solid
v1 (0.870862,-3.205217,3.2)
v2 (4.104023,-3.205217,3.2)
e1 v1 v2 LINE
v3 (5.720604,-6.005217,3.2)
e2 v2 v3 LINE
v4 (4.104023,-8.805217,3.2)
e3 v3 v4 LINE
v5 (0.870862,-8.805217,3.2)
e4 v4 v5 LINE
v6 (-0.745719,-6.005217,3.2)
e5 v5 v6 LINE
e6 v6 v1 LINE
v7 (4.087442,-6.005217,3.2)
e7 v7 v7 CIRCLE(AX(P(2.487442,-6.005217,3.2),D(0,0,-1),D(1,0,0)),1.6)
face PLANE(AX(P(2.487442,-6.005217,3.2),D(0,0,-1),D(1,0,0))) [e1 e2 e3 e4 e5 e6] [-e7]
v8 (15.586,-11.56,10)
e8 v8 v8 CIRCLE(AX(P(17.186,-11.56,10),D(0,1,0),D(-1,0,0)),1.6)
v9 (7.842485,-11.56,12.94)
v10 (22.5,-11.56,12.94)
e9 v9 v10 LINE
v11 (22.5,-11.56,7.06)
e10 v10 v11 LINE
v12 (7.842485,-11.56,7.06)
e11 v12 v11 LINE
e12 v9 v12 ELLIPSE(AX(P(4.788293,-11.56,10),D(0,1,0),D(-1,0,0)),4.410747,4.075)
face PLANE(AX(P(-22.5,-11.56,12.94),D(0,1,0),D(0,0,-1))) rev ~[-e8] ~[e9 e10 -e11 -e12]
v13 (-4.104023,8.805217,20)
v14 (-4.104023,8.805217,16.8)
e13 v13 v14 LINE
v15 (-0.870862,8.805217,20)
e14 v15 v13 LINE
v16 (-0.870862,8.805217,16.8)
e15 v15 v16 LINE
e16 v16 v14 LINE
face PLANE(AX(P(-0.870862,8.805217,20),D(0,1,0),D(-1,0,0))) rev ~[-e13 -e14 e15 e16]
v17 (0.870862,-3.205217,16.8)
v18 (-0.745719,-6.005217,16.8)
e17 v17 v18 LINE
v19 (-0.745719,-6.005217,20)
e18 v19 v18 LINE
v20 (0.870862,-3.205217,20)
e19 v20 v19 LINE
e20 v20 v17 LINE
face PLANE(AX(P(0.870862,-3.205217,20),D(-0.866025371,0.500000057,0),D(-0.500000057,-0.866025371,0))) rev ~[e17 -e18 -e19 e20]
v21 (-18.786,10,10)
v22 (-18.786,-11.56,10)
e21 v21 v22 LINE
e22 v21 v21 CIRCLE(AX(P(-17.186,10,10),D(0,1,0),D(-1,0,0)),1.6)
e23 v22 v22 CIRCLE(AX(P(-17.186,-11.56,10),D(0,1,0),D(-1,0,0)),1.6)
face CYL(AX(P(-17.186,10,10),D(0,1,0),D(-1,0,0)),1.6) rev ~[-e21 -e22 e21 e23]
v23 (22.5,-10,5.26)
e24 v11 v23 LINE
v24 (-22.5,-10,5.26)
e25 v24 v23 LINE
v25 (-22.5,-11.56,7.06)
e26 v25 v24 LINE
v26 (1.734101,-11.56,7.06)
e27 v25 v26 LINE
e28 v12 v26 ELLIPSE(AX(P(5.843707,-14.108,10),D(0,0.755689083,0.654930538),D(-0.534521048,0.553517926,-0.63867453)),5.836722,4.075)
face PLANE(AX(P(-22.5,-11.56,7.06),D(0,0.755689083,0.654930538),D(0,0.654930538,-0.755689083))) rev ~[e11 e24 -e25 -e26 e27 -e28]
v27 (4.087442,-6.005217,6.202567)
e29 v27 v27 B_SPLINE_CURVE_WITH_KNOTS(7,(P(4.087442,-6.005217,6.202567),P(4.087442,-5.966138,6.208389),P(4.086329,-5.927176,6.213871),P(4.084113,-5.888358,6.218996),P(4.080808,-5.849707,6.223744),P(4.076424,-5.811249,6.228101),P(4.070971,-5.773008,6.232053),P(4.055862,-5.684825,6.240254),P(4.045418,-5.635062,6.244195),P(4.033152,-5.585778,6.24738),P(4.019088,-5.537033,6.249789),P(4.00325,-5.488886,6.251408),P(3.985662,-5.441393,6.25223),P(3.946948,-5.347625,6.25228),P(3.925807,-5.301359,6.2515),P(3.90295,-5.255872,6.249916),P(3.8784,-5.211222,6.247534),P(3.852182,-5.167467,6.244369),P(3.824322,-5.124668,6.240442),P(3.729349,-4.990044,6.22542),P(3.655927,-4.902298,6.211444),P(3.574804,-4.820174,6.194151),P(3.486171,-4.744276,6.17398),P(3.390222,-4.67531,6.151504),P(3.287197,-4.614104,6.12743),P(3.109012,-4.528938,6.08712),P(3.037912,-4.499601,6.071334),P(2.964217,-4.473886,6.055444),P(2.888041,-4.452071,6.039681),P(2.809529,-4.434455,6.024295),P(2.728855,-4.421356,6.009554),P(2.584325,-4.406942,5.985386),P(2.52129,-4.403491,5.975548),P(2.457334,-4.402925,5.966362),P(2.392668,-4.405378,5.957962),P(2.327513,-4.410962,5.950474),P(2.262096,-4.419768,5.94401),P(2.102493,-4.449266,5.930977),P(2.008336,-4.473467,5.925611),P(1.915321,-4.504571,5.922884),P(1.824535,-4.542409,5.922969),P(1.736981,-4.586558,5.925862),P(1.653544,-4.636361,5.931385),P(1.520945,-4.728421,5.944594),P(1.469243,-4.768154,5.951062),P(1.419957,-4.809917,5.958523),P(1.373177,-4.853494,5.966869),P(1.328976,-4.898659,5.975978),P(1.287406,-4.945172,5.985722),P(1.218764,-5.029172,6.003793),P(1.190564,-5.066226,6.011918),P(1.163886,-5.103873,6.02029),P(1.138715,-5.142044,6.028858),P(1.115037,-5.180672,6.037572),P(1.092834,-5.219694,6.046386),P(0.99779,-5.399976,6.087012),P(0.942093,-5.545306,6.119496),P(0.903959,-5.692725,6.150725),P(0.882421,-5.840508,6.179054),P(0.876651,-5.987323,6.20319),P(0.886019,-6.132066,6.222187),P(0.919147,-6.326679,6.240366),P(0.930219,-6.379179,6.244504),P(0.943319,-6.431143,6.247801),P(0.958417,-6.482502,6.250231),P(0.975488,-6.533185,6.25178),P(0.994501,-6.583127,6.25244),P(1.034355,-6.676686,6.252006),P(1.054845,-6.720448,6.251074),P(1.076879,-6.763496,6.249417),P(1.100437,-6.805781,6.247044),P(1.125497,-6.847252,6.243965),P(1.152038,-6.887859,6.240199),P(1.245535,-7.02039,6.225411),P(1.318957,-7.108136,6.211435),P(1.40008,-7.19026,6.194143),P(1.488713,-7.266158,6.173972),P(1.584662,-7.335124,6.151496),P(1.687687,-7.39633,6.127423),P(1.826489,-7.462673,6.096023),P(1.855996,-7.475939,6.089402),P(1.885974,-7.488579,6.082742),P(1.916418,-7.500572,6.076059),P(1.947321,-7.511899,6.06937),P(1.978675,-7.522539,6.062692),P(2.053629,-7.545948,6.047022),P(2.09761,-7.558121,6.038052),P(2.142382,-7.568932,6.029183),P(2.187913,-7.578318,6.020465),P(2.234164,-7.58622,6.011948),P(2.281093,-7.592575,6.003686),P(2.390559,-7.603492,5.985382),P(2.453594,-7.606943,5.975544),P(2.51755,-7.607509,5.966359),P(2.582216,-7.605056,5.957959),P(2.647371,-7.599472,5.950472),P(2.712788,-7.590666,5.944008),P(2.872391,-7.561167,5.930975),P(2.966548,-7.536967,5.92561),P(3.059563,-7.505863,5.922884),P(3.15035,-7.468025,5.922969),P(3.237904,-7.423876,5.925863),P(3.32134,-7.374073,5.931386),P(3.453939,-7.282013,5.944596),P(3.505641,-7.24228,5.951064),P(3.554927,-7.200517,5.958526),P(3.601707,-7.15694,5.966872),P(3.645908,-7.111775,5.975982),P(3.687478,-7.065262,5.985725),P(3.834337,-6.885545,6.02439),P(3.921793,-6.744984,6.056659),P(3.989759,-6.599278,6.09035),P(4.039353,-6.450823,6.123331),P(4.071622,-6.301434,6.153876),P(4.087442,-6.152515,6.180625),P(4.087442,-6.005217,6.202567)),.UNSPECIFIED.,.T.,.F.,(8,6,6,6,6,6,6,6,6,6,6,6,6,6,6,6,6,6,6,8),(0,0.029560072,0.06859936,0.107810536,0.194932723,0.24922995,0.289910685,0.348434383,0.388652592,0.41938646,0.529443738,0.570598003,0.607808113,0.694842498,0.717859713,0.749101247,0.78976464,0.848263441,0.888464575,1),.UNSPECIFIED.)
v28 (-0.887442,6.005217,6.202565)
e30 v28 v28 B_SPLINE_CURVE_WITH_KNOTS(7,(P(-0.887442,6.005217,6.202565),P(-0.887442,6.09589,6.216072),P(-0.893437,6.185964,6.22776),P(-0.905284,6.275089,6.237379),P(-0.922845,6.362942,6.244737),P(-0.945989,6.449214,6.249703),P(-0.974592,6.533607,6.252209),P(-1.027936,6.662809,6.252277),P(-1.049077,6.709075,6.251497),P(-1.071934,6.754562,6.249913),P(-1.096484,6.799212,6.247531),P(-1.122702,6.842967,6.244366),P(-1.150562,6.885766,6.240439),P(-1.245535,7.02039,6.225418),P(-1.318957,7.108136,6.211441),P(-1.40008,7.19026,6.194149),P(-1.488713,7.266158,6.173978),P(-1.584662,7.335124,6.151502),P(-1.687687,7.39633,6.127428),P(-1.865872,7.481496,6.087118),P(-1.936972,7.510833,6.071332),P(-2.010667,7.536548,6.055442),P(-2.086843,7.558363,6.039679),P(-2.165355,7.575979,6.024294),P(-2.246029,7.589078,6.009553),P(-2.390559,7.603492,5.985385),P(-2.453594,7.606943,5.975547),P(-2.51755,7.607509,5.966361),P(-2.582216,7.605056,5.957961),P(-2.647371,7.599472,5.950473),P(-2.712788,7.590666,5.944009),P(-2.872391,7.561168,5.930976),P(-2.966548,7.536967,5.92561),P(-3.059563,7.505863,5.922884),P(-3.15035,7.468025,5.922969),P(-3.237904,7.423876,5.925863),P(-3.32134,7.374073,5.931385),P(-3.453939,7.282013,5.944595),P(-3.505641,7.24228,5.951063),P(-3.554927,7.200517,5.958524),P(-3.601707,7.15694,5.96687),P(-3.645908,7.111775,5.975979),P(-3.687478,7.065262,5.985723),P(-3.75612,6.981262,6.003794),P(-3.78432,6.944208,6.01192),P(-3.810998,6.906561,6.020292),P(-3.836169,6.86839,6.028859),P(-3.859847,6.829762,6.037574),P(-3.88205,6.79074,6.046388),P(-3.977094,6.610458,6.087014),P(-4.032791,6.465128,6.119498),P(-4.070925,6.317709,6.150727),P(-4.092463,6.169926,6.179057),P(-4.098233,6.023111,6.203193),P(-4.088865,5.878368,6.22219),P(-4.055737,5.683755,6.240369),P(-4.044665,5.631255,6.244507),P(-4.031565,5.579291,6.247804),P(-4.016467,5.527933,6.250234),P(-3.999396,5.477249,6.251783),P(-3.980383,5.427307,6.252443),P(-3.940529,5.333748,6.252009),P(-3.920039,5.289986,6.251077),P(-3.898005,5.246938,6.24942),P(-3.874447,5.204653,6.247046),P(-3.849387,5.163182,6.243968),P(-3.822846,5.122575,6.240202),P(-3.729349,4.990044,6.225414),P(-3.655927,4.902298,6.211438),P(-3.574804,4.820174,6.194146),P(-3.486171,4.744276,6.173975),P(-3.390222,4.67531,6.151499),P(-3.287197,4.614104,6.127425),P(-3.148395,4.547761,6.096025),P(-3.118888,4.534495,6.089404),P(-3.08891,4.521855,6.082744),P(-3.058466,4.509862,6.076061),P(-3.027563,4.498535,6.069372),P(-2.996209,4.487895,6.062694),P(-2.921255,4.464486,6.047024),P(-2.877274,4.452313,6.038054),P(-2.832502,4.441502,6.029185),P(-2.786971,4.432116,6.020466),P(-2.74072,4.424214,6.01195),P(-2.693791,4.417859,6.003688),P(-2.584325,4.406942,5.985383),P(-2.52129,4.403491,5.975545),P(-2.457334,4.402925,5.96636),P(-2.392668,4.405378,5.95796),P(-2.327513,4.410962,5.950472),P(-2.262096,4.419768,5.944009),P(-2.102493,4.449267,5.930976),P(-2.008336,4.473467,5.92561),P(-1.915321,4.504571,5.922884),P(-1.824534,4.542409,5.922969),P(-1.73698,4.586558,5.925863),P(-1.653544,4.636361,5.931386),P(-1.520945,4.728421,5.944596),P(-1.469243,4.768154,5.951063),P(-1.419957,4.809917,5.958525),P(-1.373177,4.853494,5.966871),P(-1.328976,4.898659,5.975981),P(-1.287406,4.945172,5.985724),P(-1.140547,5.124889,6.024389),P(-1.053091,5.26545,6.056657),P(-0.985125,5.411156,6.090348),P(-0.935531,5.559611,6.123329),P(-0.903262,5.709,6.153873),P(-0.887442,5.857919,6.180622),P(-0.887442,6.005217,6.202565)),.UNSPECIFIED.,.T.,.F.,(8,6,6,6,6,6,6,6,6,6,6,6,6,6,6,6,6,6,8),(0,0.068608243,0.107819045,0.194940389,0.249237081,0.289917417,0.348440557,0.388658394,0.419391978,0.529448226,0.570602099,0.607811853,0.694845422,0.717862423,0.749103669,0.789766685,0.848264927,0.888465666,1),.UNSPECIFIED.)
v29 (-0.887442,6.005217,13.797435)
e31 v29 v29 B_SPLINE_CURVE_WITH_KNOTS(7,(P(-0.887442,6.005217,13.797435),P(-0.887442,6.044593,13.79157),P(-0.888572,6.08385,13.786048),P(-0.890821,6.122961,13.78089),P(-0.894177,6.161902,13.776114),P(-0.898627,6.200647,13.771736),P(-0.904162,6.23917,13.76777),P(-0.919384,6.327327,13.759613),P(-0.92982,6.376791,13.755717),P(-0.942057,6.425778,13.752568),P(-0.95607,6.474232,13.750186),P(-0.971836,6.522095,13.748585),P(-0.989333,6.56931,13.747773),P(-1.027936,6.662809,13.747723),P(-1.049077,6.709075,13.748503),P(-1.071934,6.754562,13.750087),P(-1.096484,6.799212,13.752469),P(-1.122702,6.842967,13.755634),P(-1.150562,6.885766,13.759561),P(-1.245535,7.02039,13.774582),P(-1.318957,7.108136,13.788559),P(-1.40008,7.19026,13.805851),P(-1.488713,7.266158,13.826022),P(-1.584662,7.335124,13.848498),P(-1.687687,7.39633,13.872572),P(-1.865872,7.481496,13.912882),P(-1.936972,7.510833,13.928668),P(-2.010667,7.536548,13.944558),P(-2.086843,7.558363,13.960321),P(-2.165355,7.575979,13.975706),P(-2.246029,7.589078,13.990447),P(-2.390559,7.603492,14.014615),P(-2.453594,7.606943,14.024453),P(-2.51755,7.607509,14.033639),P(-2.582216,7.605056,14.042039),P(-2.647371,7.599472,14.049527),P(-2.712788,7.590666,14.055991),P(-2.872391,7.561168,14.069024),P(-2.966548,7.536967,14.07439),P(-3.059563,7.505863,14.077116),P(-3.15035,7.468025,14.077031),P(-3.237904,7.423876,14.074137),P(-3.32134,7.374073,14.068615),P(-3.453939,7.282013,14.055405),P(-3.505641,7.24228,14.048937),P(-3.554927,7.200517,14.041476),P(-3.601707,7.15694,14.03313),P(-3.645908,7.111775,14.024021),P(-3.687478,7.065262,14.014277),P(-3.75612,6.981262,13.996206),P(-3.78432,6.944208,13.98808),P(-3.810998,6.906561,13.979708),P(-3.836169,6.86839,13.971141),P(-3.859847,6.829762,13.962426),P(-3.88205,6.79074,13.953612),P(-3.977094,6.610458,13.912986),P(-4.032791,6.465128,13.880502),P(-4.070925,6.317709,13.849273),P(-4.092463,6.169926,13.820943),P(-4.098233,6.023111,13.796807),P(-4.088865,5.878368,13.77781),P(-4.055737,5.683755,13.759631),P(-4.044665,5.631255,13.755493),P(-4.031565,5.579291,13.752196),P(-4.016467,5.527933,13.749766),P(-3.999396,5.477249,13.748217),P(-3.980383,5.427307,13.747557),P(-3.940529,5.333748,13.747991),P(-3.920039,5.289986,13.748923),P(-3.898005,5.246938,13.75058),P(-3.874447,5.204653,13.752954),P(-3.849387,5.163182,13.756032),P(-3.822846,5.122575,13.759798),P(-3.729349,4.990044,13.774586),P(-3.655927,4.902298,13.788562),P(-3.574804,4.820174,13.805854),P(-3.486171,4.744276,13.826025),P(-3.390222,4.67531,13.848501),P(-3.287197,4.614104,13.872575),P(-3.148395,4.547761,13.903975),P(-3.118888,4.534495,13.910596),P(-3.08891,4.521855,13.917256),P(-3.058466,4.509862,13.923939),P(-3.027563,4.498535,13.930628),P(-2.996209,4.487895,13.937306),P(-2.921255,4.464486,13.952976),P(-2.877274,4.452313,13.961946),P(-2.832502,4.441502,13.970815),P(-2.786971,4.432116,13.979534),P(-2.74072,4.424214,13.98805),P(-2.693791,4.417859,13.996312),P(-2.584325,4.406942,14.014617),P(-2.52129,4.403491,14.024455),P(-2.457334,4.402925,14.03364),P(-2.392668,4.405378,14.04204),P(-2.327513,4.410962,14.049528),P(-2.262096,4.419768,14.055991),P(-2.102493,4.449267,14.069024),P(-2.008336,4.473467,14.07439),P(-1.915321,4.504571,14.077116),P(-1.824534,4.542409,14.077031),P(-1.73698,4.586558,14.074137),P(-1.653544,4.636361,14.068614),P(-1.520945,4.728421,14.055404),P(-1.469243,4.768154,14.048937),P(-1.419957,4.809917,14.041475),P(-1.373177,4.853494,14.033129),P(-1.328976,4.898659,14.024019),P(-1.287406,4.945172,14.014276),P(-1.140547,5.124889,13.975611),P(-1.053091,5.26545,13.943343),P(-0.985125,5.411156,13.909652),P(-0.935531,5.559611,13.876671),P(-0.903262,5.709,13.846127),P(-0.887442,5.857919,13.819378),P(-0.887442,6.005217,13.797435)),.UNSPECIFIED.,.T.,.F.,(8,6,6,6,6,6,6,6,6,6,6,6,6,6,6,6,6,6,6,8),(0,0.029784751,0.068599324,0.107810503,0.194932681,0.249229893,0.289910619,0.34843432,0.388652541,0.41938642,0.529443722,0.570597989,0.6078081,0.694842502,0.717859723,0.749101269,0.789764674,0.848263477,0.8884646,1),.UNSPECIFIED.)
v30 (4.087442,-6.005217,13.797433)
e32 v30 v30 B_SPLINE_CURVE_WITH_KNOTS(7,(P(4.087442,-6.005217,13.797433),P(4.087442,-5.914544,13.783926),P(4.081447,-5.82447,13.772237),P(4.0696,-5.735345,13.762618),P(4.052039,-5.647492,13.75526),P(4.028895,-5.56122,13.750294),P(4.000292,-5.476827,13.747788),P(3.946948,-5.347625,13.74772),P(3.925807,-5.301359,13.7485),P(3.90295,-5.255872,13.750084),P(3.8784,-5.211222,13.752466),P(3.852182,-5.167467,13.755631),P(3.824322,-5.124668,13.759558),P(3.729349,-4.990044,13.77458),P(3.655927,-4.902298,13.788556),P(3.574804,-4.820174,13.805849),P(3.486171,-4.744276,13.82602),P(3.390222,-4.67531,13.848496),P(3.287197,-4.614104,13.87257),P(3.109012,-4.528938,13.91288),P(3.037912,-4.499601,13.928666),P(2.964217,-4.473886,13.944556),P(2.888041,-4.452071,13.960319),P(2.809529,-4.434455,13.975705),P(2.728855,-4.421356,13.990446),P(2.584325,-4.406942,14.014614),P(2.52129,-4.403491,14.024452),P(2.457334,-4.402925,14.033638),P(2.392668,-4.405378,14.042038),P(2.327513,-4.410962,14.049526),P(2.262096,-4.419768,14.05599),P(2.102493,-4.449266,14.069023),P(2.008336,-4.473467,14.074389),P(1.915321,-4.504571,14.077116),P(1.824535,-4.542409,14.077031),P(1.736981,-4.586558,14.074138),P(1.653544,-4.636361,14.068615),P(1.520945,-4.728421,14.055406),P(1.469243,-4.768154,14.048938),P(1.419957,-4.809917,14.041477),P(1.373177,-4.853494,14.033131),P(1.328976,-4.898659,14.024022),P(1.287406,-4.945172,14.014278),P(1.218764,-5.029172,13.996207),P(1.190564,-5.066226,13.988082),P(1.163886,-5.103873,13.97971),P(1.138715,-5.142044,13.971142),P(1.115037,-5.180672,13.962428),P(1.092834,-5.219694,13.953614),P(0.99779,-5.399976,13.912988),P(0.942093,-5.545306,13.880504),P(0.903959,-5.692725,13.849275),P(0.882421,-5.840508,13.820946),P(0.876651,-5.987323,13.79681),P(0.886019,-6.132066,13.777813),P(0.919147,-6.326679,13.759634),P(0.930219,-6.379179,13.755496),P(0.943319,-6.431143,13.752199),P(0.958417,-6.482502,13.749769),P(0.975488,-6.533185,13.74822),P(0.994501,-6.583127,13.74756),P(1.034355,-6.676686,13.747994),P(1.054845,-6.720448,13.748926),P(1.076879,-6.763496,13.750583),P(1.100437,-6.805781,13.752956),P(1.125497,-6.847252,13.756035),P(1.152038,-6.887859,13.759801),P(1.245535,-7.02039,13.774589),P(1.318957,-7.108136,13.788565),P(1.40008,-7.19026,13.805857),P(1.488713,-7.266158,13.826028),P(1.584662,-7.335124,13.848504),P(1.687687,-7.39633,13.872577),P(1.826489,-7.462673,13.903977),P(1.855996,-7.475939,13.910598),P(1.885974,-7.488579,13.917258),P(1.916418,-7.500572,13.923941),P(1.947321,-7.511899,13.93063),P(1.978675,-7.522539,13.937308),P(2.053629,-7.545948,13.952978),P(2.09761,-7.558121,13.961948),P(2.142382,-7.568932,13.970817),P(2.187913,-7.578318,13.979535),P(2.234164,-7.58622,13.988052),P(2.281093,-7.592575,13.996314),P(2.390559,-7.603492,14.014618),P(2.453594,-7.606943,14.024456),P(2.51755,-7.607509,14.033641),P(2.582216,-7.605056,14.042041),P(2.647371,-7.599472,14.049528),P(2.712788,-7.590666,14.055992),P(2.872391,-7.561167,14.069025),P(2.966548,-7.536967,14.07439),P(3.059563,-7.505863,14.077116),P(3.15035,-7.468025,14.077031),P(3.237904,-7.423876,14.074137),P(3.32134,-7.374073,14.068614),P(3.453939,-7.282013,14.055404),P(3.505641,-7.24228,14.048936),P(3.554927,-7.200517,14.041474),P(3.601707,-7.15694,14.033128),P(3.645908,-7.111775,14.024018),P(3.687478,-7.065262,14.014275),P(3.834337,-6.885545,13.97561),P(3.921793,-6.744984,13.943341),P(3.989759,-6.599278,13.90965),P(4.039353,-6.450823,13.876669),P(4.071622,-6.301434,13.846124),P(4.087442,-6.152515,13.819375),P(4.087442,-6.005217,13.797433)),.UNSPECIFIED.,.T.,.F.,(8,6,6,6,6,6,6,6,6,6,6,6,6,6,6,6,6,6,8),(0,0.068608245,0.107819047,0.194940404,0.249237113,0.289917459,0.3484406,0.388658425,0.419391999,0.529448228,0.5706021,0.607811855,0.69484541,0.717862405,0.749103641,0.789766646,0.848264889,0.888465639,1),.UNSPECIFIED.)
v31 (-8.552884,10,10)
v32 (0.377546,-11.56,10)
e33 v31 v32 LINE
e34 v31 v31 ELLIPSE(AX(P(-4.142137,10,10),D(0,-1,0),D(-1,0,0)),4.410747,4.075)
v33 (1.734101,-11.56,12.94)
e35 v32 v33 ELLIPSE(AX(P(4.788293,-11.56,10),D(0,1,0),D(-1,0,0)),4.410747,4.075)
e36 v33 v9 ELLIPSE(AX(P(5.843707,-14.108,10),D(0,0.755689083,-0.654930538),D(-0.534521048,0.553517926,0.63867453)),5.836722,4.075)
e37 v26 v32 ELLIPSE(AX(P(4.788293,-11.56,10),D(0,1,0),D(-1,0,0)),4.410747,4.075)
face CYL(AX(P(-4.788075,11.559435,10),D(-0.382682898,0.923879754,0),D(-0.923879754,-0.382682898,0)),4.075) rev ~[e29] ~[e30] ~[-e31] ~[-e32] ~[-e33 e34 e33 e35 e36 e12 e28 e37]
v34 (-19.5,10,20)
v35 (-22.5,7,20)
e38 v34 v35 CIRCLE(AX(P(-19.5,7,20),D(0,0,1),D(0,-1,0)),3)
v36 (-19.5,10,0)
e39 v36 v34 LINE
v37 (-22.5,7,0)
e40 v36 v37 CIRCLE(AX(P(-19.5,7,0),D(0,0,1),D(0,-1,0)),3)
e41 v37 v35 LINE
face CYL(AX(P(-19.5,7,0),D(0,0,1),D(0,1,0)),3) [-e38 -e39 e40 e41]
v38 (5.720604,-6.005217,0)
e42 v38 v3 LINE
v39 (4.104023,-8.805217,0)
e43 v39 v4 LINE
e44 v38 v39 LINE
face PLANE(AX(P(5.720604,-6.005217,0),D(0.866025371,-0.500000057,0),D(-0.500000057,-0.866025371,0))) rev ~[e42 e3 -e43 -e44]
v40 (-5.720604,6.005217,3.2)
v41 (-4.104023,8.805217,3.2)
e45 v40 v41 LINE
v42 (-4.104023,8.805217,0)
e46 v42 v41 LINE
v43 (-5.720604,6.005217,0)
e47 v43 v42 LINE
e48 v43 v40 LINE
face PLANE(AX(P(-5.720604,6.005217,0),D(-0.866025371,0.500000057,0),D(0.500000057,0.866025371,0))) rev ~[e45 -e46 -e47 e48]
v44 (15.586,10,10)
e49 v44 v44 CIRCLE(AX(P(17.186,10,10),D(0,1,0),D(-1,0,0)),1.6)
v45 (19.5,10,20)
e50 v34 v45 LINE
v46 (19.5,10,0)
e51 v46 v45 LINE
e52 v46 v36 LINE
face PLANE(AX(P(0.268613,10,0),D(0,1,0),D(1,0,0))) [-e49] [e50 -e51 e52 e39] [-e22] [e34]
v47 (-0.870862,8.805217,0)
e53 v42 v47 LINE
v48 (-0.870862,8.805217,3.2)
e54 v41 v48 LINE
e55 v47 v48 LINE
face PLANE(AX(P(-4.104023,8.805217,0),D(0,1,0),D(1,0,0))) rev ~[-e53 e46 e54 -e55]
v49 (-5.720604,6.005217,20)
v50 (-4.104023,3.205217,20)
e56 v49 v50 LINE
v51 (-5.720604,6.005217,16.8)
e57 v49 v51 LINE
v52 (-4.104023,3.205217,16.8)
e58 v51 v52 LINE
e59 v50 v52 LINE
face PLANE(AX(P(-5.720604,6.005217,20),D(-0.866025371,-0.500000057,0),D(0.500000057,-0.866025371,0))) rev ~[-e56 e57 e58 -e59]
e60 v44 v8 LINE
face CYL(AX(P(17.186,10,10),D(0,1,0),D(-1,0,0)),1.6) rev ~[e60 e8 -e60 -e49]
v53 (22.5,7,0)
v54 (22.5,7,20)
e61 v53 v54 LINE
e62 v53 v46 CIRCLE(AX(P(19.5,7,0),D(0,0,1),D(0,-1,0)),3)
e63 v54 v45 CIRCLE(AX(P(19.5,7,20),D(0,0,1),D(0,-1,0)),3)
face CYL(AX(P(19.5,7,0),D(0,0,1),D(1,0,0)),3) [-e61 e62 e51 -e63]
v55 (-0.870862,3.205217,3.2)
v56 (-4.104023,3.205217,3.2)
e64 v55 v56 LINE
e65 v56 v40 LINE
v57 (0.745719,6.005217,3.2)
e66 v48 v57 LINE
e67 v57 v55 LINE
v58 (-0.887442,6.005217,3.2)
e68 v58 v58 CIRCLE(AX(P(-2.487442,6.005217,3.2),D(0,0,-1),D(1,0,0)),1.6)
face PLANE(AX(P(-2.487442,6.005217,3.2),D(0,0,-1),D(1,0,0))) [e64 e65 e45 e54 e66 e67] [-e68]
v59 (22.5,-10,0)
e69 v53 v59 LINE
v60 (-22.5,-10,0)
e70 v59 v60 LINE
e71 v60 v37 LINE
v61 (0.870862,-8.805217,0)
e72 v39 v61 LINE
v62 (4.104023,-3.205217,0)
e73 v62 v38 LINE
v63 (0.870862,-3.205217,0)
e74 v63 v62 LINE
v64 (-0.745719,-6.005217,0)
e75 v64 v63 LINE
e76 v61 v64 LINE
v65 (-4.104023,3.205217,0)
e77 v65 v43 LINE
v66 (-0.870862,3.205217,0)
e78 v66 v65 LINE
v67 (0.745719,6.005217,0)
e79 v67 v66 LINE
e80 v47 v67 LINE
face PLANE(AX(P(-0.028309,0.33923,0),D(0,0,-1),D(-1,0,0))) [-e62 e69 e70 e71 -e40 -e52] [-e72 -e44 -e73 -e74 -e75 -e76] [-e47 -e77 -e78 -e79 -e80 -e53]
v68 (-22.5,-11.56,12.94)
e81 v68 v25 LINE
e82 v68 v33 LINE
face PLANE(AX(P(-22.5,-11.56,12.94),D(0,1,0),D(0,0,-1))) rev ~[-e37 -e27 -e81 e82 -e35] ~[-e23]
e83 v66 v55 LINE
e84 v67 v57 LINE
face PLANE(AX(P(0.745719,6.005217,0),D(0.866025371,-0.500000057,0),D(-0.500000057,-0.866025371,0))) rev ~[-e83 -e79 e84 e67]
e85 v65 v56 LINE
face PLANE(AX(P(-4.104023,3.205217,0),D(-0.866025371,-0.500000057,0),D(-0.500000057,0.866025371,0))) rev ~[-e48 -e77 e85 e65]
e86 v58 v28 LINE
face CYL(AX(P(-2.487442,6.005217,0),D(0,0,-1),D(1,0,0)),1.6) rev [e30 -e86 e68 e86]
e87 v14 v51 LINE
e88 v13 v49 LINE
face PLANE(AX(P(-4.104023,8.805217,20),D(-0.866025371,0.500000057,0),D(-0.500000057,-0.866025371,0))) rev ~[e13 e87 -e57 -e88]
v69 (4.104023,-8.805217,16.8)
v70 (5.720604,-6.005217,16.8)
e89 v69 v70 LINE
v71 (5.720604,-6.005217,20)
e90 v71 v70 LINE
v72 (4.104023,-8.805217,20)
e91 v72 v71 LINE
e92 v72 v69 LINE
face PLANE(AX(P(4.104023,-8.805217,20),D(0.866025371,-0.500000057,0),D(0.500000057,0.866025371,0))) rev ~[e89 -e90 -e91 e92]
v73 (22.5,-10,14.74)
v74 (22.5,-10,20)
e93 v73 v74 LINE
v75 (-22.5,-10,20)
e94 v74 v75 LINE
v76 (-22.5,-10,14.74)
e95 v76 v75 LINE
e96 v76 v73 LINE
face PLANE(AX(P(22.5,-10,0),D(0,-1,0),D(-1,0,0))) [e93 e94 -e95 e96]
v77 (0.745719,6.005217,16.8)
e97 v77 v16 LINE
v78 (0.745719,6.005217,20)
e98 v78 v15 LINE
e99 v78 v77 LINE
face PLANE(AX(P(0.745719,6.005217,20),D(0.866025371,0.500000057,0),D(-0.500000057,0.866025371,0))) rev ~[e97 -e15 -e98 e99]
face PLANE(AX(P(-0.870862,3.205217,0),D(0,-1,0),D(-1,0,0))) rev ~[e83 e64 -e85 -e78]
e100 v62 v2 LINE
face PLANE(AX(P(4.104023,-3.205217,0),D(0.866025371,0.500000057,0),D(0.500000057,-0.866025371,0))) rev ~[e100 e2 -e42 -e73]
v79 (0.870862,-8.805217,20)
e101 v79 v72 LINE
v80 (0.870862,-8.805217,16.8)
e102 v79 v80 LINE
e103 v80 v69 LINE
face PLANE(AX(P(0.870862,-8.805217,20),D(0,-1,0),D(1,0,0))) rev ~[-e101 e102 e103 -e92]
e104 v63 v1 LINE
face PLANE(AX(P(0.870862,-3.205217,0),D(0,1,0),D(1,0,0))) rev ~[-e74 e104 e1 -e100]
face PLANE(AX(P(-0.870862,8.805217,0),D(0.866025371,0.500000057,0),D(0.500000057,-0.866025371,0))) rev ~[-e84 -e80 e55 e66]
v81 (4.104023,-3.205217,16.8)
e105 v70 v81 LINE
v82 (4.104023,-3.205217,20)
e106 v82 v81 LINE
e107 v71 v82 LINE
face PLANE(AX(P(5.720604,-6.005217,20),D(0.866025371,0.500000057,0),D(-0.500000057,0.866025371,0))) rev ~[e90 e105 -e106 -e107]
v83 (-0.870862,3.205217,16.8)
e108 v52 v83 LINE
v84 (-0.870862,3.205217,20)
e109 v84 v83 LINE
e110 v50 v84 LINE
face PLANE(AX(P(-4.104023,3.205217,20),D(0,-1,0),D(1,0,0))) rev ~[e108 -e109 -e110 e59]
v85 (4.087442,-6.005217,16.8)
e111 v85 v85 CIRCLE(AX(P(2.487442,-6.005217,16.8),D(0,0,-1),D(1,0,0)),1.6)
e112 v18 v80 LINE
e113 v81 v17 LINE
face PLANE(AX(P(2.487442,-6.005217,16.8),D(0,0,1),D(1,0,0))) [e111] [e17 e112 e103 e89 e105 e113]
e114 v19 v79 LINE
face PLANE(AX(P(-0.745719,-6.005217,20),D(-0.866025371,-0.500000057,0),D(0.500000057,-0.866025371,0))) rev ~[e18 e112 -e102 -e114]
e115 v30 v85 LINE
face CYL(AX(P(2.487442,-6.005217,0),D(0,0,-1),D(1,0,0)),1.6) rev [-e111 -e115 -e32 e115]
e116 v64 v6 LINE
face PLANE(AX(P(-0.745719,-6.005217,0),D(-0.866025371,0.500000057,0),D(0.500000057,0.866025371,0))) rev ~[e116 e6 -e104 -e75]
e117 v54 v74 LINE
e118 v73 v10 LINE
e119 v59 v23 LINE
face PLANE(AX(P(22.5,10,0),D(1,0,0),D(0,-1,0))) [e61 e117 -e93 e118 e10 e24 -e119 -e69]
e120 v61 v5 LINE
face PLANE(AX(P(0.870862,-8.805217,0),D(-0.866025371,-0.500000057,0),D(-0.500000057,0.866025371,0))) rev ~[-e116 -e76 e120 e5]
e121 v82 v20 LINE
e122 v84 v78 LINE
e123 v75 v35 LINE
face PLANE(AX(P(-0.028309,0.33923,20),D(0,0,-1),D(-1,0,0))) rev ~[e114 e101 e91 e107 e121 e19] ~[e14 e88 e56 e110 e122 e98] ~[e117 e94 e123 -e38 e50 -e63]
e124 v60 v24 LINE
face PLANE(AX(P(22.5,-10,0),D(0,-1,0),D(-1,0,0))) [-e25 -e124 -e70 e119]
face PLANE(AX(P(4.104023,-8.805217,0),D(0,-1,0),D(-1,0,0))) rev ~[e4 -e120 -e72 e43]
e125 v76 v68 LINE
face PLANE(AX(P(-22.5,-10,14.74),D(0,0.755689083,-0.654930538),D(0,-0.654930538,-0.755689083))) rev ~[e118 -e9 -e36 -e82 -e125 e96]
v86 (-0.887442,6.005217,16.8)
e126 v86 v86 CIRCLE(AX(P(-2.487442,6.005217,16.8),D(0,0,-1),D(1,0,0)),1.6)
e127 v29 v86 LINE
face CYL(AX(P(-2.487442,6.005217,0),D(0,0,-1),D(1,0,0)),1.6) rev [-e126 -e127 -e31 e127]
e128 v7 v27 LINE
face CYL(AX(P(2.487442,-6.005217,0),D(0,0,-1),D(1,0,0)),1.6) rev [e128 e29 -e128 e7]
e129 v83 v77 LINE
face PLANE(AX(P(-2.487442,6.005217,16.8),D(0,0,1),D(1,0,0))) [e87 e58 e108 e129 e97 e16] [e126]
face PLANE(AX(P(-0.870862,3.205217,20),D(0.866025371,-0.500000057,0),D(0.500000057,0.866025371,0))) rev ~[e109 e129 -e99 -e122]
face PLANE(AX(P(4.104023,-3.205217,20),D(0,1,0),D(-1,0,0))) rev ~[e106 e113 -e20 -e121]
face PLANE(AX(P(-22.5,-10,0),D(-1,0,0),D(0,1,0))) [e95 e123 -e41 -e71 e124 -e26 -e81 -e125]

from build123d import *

# Parameters (mm, degrees)
SKETCH_R        = 1.6
PAD_DEPTH       = 20
PAD001_DEPTH    = 45
SKETCH002_R     = 4.075
POCKET_DEPTH    = 31.803267
POCKET001_DEPTH = 20.001
SKETCH004_R     = 1.6
POCKET002_DEPTH = 21.561
FILLET_R        = 3
POCKET003_DEPTH = 3.2
POCKET004_DEPTH = 3.2


with BuildPart() as part:
    # Sketch → Pad (new body)
    with BuildSketch(Plane.XY):
        Polygon((22.5, 10), (22.5, -10), (-22.5, -10), (-22.5, 10), (-8.552884, 10), (-1.023266, 13.11887), (0.268613, 10), align=None)
        with Locations((-2.487442, 6.005217)):
            Circle(SKETCH_R, mode=Mode.SUBTRACT)
        with Locations((2.487442, -6.005217)):
            Circle(SKETCH_R, mode=Mode.SUBTRACT)
    extrude(amount=PAD_DEPTH)

    # Sketch001 (on Face3 of Pad) → Pad001 (join)
    with BuildSketch(Plane(origin=(-22.5, 0, 0), x_dir=(0, -1, 0), z_dir=(-1, 0, 0))):
        Polygon((10, 10), (10, 14.74), (11.56, 12.94), (11.56, 7.06), (10, 5.26), align=None)
    extrude(amount=-PAD001_DEPTH)

    # Sketch002 (on Face14 of Pad001) → Pocket (cut, through all)
    with BuildSketch(Plane(origin=(-4.788075, 11.559435, 0), x_dir=(-0.92388, -0.382683, 0), z_dir=(-0.382683, 0.92388, 0))):
        with Locations((0, 10)):
            Circle(SKETCH002_R)
    extrude(amount=-POCKET_DEPTH, mode=Mode.SUBTRACT)

    # Sketch003 (on Face6 of Pocket) → Pocket001 (cut, through all)
    with BuildSketch(Plane(origin=(0, 0, 0), x_dir=(1, 0, 0), z_dir=(0, 0, -1))):
        Polygon((-8.552884, -10), (-1.023266, -13.11887), (0.268613, -10), align=None)
    extrude(amount=-POCKET001_DEPTH, mode=Mode.SUBTRACT)

    # Sketch004 (on Face2 of Pocket001) → Pocket002 (cut, through all)
    with BuildSketch(Plane(origin=(0, 10, 0), x_dir=(-1, 0, 0), z_dir=(0, 1, 0))):
        with Locations((-17.186, 10)):
            Circle(SKETCH004_R)
        with Locations((17.186, 10)):
            Circle(SKETCH004_R)
    extrude(amount=-POCKET002_DEPTH, mode=Mode.SUBTRACT)

    # Fillet
    fillet_edges = [part.edges().sort_by_distance(p)[0] for p in [
        (-22.5, 10, 10),
        (22.5, 10, 10),
    ]]
    fillet(fillet_edges, radius=FILLET_R)

    # Sketch005 (on Face2 of Fillet) → Pocket003 (cut)
    with BuildSketch(Plane(origin=(0, 0, 0), x_dir=(1, 0, 0), z_dir=(0, 0, -1))):
        Polygon((5.720604, 6.005217), (4.104023, 8.805217), (0.870862, 8.805217), (-0.745719, 6.005217), (0.870862, 3.205217), (4.104023, 3.205217), align=None)
        Polygon((-5.720604, -6.005217), (-4.104023, -8.805217), (-0.870862, -8.805217), (0.745719, -6.005217), (-0.870862, -3.205217), (-4.104023, -3.205217), align=None)
    extrude(amount=-POCKET003_DEPTH, mode=Mode.SUBTRACT)

    # Sketch006 (on Face5 of Pocket003) → Pocket004 (cut)
    with BuildSketch(Plane.XY.offset(20)):
        Polygon((0.745719, 6.005217), (-0.870862, 8.805217), (-4.104023, 8.805217), (-5.720604, 6.005217), (-4.104023, 3.205217), (-0.870862, 3.205217), align=None)
        Polygon((5.720604, -6.005217), (4.104023, -3.205217), (0.870862, -3.205217), (-0.745719, -6.005217), (0.870862, -8.805217), (4.104023, -8.805217), align=None)
    extrude(amount=-POCKET004_DEPTH, mode=Mode.SUBTRACT)


solid = part.part
